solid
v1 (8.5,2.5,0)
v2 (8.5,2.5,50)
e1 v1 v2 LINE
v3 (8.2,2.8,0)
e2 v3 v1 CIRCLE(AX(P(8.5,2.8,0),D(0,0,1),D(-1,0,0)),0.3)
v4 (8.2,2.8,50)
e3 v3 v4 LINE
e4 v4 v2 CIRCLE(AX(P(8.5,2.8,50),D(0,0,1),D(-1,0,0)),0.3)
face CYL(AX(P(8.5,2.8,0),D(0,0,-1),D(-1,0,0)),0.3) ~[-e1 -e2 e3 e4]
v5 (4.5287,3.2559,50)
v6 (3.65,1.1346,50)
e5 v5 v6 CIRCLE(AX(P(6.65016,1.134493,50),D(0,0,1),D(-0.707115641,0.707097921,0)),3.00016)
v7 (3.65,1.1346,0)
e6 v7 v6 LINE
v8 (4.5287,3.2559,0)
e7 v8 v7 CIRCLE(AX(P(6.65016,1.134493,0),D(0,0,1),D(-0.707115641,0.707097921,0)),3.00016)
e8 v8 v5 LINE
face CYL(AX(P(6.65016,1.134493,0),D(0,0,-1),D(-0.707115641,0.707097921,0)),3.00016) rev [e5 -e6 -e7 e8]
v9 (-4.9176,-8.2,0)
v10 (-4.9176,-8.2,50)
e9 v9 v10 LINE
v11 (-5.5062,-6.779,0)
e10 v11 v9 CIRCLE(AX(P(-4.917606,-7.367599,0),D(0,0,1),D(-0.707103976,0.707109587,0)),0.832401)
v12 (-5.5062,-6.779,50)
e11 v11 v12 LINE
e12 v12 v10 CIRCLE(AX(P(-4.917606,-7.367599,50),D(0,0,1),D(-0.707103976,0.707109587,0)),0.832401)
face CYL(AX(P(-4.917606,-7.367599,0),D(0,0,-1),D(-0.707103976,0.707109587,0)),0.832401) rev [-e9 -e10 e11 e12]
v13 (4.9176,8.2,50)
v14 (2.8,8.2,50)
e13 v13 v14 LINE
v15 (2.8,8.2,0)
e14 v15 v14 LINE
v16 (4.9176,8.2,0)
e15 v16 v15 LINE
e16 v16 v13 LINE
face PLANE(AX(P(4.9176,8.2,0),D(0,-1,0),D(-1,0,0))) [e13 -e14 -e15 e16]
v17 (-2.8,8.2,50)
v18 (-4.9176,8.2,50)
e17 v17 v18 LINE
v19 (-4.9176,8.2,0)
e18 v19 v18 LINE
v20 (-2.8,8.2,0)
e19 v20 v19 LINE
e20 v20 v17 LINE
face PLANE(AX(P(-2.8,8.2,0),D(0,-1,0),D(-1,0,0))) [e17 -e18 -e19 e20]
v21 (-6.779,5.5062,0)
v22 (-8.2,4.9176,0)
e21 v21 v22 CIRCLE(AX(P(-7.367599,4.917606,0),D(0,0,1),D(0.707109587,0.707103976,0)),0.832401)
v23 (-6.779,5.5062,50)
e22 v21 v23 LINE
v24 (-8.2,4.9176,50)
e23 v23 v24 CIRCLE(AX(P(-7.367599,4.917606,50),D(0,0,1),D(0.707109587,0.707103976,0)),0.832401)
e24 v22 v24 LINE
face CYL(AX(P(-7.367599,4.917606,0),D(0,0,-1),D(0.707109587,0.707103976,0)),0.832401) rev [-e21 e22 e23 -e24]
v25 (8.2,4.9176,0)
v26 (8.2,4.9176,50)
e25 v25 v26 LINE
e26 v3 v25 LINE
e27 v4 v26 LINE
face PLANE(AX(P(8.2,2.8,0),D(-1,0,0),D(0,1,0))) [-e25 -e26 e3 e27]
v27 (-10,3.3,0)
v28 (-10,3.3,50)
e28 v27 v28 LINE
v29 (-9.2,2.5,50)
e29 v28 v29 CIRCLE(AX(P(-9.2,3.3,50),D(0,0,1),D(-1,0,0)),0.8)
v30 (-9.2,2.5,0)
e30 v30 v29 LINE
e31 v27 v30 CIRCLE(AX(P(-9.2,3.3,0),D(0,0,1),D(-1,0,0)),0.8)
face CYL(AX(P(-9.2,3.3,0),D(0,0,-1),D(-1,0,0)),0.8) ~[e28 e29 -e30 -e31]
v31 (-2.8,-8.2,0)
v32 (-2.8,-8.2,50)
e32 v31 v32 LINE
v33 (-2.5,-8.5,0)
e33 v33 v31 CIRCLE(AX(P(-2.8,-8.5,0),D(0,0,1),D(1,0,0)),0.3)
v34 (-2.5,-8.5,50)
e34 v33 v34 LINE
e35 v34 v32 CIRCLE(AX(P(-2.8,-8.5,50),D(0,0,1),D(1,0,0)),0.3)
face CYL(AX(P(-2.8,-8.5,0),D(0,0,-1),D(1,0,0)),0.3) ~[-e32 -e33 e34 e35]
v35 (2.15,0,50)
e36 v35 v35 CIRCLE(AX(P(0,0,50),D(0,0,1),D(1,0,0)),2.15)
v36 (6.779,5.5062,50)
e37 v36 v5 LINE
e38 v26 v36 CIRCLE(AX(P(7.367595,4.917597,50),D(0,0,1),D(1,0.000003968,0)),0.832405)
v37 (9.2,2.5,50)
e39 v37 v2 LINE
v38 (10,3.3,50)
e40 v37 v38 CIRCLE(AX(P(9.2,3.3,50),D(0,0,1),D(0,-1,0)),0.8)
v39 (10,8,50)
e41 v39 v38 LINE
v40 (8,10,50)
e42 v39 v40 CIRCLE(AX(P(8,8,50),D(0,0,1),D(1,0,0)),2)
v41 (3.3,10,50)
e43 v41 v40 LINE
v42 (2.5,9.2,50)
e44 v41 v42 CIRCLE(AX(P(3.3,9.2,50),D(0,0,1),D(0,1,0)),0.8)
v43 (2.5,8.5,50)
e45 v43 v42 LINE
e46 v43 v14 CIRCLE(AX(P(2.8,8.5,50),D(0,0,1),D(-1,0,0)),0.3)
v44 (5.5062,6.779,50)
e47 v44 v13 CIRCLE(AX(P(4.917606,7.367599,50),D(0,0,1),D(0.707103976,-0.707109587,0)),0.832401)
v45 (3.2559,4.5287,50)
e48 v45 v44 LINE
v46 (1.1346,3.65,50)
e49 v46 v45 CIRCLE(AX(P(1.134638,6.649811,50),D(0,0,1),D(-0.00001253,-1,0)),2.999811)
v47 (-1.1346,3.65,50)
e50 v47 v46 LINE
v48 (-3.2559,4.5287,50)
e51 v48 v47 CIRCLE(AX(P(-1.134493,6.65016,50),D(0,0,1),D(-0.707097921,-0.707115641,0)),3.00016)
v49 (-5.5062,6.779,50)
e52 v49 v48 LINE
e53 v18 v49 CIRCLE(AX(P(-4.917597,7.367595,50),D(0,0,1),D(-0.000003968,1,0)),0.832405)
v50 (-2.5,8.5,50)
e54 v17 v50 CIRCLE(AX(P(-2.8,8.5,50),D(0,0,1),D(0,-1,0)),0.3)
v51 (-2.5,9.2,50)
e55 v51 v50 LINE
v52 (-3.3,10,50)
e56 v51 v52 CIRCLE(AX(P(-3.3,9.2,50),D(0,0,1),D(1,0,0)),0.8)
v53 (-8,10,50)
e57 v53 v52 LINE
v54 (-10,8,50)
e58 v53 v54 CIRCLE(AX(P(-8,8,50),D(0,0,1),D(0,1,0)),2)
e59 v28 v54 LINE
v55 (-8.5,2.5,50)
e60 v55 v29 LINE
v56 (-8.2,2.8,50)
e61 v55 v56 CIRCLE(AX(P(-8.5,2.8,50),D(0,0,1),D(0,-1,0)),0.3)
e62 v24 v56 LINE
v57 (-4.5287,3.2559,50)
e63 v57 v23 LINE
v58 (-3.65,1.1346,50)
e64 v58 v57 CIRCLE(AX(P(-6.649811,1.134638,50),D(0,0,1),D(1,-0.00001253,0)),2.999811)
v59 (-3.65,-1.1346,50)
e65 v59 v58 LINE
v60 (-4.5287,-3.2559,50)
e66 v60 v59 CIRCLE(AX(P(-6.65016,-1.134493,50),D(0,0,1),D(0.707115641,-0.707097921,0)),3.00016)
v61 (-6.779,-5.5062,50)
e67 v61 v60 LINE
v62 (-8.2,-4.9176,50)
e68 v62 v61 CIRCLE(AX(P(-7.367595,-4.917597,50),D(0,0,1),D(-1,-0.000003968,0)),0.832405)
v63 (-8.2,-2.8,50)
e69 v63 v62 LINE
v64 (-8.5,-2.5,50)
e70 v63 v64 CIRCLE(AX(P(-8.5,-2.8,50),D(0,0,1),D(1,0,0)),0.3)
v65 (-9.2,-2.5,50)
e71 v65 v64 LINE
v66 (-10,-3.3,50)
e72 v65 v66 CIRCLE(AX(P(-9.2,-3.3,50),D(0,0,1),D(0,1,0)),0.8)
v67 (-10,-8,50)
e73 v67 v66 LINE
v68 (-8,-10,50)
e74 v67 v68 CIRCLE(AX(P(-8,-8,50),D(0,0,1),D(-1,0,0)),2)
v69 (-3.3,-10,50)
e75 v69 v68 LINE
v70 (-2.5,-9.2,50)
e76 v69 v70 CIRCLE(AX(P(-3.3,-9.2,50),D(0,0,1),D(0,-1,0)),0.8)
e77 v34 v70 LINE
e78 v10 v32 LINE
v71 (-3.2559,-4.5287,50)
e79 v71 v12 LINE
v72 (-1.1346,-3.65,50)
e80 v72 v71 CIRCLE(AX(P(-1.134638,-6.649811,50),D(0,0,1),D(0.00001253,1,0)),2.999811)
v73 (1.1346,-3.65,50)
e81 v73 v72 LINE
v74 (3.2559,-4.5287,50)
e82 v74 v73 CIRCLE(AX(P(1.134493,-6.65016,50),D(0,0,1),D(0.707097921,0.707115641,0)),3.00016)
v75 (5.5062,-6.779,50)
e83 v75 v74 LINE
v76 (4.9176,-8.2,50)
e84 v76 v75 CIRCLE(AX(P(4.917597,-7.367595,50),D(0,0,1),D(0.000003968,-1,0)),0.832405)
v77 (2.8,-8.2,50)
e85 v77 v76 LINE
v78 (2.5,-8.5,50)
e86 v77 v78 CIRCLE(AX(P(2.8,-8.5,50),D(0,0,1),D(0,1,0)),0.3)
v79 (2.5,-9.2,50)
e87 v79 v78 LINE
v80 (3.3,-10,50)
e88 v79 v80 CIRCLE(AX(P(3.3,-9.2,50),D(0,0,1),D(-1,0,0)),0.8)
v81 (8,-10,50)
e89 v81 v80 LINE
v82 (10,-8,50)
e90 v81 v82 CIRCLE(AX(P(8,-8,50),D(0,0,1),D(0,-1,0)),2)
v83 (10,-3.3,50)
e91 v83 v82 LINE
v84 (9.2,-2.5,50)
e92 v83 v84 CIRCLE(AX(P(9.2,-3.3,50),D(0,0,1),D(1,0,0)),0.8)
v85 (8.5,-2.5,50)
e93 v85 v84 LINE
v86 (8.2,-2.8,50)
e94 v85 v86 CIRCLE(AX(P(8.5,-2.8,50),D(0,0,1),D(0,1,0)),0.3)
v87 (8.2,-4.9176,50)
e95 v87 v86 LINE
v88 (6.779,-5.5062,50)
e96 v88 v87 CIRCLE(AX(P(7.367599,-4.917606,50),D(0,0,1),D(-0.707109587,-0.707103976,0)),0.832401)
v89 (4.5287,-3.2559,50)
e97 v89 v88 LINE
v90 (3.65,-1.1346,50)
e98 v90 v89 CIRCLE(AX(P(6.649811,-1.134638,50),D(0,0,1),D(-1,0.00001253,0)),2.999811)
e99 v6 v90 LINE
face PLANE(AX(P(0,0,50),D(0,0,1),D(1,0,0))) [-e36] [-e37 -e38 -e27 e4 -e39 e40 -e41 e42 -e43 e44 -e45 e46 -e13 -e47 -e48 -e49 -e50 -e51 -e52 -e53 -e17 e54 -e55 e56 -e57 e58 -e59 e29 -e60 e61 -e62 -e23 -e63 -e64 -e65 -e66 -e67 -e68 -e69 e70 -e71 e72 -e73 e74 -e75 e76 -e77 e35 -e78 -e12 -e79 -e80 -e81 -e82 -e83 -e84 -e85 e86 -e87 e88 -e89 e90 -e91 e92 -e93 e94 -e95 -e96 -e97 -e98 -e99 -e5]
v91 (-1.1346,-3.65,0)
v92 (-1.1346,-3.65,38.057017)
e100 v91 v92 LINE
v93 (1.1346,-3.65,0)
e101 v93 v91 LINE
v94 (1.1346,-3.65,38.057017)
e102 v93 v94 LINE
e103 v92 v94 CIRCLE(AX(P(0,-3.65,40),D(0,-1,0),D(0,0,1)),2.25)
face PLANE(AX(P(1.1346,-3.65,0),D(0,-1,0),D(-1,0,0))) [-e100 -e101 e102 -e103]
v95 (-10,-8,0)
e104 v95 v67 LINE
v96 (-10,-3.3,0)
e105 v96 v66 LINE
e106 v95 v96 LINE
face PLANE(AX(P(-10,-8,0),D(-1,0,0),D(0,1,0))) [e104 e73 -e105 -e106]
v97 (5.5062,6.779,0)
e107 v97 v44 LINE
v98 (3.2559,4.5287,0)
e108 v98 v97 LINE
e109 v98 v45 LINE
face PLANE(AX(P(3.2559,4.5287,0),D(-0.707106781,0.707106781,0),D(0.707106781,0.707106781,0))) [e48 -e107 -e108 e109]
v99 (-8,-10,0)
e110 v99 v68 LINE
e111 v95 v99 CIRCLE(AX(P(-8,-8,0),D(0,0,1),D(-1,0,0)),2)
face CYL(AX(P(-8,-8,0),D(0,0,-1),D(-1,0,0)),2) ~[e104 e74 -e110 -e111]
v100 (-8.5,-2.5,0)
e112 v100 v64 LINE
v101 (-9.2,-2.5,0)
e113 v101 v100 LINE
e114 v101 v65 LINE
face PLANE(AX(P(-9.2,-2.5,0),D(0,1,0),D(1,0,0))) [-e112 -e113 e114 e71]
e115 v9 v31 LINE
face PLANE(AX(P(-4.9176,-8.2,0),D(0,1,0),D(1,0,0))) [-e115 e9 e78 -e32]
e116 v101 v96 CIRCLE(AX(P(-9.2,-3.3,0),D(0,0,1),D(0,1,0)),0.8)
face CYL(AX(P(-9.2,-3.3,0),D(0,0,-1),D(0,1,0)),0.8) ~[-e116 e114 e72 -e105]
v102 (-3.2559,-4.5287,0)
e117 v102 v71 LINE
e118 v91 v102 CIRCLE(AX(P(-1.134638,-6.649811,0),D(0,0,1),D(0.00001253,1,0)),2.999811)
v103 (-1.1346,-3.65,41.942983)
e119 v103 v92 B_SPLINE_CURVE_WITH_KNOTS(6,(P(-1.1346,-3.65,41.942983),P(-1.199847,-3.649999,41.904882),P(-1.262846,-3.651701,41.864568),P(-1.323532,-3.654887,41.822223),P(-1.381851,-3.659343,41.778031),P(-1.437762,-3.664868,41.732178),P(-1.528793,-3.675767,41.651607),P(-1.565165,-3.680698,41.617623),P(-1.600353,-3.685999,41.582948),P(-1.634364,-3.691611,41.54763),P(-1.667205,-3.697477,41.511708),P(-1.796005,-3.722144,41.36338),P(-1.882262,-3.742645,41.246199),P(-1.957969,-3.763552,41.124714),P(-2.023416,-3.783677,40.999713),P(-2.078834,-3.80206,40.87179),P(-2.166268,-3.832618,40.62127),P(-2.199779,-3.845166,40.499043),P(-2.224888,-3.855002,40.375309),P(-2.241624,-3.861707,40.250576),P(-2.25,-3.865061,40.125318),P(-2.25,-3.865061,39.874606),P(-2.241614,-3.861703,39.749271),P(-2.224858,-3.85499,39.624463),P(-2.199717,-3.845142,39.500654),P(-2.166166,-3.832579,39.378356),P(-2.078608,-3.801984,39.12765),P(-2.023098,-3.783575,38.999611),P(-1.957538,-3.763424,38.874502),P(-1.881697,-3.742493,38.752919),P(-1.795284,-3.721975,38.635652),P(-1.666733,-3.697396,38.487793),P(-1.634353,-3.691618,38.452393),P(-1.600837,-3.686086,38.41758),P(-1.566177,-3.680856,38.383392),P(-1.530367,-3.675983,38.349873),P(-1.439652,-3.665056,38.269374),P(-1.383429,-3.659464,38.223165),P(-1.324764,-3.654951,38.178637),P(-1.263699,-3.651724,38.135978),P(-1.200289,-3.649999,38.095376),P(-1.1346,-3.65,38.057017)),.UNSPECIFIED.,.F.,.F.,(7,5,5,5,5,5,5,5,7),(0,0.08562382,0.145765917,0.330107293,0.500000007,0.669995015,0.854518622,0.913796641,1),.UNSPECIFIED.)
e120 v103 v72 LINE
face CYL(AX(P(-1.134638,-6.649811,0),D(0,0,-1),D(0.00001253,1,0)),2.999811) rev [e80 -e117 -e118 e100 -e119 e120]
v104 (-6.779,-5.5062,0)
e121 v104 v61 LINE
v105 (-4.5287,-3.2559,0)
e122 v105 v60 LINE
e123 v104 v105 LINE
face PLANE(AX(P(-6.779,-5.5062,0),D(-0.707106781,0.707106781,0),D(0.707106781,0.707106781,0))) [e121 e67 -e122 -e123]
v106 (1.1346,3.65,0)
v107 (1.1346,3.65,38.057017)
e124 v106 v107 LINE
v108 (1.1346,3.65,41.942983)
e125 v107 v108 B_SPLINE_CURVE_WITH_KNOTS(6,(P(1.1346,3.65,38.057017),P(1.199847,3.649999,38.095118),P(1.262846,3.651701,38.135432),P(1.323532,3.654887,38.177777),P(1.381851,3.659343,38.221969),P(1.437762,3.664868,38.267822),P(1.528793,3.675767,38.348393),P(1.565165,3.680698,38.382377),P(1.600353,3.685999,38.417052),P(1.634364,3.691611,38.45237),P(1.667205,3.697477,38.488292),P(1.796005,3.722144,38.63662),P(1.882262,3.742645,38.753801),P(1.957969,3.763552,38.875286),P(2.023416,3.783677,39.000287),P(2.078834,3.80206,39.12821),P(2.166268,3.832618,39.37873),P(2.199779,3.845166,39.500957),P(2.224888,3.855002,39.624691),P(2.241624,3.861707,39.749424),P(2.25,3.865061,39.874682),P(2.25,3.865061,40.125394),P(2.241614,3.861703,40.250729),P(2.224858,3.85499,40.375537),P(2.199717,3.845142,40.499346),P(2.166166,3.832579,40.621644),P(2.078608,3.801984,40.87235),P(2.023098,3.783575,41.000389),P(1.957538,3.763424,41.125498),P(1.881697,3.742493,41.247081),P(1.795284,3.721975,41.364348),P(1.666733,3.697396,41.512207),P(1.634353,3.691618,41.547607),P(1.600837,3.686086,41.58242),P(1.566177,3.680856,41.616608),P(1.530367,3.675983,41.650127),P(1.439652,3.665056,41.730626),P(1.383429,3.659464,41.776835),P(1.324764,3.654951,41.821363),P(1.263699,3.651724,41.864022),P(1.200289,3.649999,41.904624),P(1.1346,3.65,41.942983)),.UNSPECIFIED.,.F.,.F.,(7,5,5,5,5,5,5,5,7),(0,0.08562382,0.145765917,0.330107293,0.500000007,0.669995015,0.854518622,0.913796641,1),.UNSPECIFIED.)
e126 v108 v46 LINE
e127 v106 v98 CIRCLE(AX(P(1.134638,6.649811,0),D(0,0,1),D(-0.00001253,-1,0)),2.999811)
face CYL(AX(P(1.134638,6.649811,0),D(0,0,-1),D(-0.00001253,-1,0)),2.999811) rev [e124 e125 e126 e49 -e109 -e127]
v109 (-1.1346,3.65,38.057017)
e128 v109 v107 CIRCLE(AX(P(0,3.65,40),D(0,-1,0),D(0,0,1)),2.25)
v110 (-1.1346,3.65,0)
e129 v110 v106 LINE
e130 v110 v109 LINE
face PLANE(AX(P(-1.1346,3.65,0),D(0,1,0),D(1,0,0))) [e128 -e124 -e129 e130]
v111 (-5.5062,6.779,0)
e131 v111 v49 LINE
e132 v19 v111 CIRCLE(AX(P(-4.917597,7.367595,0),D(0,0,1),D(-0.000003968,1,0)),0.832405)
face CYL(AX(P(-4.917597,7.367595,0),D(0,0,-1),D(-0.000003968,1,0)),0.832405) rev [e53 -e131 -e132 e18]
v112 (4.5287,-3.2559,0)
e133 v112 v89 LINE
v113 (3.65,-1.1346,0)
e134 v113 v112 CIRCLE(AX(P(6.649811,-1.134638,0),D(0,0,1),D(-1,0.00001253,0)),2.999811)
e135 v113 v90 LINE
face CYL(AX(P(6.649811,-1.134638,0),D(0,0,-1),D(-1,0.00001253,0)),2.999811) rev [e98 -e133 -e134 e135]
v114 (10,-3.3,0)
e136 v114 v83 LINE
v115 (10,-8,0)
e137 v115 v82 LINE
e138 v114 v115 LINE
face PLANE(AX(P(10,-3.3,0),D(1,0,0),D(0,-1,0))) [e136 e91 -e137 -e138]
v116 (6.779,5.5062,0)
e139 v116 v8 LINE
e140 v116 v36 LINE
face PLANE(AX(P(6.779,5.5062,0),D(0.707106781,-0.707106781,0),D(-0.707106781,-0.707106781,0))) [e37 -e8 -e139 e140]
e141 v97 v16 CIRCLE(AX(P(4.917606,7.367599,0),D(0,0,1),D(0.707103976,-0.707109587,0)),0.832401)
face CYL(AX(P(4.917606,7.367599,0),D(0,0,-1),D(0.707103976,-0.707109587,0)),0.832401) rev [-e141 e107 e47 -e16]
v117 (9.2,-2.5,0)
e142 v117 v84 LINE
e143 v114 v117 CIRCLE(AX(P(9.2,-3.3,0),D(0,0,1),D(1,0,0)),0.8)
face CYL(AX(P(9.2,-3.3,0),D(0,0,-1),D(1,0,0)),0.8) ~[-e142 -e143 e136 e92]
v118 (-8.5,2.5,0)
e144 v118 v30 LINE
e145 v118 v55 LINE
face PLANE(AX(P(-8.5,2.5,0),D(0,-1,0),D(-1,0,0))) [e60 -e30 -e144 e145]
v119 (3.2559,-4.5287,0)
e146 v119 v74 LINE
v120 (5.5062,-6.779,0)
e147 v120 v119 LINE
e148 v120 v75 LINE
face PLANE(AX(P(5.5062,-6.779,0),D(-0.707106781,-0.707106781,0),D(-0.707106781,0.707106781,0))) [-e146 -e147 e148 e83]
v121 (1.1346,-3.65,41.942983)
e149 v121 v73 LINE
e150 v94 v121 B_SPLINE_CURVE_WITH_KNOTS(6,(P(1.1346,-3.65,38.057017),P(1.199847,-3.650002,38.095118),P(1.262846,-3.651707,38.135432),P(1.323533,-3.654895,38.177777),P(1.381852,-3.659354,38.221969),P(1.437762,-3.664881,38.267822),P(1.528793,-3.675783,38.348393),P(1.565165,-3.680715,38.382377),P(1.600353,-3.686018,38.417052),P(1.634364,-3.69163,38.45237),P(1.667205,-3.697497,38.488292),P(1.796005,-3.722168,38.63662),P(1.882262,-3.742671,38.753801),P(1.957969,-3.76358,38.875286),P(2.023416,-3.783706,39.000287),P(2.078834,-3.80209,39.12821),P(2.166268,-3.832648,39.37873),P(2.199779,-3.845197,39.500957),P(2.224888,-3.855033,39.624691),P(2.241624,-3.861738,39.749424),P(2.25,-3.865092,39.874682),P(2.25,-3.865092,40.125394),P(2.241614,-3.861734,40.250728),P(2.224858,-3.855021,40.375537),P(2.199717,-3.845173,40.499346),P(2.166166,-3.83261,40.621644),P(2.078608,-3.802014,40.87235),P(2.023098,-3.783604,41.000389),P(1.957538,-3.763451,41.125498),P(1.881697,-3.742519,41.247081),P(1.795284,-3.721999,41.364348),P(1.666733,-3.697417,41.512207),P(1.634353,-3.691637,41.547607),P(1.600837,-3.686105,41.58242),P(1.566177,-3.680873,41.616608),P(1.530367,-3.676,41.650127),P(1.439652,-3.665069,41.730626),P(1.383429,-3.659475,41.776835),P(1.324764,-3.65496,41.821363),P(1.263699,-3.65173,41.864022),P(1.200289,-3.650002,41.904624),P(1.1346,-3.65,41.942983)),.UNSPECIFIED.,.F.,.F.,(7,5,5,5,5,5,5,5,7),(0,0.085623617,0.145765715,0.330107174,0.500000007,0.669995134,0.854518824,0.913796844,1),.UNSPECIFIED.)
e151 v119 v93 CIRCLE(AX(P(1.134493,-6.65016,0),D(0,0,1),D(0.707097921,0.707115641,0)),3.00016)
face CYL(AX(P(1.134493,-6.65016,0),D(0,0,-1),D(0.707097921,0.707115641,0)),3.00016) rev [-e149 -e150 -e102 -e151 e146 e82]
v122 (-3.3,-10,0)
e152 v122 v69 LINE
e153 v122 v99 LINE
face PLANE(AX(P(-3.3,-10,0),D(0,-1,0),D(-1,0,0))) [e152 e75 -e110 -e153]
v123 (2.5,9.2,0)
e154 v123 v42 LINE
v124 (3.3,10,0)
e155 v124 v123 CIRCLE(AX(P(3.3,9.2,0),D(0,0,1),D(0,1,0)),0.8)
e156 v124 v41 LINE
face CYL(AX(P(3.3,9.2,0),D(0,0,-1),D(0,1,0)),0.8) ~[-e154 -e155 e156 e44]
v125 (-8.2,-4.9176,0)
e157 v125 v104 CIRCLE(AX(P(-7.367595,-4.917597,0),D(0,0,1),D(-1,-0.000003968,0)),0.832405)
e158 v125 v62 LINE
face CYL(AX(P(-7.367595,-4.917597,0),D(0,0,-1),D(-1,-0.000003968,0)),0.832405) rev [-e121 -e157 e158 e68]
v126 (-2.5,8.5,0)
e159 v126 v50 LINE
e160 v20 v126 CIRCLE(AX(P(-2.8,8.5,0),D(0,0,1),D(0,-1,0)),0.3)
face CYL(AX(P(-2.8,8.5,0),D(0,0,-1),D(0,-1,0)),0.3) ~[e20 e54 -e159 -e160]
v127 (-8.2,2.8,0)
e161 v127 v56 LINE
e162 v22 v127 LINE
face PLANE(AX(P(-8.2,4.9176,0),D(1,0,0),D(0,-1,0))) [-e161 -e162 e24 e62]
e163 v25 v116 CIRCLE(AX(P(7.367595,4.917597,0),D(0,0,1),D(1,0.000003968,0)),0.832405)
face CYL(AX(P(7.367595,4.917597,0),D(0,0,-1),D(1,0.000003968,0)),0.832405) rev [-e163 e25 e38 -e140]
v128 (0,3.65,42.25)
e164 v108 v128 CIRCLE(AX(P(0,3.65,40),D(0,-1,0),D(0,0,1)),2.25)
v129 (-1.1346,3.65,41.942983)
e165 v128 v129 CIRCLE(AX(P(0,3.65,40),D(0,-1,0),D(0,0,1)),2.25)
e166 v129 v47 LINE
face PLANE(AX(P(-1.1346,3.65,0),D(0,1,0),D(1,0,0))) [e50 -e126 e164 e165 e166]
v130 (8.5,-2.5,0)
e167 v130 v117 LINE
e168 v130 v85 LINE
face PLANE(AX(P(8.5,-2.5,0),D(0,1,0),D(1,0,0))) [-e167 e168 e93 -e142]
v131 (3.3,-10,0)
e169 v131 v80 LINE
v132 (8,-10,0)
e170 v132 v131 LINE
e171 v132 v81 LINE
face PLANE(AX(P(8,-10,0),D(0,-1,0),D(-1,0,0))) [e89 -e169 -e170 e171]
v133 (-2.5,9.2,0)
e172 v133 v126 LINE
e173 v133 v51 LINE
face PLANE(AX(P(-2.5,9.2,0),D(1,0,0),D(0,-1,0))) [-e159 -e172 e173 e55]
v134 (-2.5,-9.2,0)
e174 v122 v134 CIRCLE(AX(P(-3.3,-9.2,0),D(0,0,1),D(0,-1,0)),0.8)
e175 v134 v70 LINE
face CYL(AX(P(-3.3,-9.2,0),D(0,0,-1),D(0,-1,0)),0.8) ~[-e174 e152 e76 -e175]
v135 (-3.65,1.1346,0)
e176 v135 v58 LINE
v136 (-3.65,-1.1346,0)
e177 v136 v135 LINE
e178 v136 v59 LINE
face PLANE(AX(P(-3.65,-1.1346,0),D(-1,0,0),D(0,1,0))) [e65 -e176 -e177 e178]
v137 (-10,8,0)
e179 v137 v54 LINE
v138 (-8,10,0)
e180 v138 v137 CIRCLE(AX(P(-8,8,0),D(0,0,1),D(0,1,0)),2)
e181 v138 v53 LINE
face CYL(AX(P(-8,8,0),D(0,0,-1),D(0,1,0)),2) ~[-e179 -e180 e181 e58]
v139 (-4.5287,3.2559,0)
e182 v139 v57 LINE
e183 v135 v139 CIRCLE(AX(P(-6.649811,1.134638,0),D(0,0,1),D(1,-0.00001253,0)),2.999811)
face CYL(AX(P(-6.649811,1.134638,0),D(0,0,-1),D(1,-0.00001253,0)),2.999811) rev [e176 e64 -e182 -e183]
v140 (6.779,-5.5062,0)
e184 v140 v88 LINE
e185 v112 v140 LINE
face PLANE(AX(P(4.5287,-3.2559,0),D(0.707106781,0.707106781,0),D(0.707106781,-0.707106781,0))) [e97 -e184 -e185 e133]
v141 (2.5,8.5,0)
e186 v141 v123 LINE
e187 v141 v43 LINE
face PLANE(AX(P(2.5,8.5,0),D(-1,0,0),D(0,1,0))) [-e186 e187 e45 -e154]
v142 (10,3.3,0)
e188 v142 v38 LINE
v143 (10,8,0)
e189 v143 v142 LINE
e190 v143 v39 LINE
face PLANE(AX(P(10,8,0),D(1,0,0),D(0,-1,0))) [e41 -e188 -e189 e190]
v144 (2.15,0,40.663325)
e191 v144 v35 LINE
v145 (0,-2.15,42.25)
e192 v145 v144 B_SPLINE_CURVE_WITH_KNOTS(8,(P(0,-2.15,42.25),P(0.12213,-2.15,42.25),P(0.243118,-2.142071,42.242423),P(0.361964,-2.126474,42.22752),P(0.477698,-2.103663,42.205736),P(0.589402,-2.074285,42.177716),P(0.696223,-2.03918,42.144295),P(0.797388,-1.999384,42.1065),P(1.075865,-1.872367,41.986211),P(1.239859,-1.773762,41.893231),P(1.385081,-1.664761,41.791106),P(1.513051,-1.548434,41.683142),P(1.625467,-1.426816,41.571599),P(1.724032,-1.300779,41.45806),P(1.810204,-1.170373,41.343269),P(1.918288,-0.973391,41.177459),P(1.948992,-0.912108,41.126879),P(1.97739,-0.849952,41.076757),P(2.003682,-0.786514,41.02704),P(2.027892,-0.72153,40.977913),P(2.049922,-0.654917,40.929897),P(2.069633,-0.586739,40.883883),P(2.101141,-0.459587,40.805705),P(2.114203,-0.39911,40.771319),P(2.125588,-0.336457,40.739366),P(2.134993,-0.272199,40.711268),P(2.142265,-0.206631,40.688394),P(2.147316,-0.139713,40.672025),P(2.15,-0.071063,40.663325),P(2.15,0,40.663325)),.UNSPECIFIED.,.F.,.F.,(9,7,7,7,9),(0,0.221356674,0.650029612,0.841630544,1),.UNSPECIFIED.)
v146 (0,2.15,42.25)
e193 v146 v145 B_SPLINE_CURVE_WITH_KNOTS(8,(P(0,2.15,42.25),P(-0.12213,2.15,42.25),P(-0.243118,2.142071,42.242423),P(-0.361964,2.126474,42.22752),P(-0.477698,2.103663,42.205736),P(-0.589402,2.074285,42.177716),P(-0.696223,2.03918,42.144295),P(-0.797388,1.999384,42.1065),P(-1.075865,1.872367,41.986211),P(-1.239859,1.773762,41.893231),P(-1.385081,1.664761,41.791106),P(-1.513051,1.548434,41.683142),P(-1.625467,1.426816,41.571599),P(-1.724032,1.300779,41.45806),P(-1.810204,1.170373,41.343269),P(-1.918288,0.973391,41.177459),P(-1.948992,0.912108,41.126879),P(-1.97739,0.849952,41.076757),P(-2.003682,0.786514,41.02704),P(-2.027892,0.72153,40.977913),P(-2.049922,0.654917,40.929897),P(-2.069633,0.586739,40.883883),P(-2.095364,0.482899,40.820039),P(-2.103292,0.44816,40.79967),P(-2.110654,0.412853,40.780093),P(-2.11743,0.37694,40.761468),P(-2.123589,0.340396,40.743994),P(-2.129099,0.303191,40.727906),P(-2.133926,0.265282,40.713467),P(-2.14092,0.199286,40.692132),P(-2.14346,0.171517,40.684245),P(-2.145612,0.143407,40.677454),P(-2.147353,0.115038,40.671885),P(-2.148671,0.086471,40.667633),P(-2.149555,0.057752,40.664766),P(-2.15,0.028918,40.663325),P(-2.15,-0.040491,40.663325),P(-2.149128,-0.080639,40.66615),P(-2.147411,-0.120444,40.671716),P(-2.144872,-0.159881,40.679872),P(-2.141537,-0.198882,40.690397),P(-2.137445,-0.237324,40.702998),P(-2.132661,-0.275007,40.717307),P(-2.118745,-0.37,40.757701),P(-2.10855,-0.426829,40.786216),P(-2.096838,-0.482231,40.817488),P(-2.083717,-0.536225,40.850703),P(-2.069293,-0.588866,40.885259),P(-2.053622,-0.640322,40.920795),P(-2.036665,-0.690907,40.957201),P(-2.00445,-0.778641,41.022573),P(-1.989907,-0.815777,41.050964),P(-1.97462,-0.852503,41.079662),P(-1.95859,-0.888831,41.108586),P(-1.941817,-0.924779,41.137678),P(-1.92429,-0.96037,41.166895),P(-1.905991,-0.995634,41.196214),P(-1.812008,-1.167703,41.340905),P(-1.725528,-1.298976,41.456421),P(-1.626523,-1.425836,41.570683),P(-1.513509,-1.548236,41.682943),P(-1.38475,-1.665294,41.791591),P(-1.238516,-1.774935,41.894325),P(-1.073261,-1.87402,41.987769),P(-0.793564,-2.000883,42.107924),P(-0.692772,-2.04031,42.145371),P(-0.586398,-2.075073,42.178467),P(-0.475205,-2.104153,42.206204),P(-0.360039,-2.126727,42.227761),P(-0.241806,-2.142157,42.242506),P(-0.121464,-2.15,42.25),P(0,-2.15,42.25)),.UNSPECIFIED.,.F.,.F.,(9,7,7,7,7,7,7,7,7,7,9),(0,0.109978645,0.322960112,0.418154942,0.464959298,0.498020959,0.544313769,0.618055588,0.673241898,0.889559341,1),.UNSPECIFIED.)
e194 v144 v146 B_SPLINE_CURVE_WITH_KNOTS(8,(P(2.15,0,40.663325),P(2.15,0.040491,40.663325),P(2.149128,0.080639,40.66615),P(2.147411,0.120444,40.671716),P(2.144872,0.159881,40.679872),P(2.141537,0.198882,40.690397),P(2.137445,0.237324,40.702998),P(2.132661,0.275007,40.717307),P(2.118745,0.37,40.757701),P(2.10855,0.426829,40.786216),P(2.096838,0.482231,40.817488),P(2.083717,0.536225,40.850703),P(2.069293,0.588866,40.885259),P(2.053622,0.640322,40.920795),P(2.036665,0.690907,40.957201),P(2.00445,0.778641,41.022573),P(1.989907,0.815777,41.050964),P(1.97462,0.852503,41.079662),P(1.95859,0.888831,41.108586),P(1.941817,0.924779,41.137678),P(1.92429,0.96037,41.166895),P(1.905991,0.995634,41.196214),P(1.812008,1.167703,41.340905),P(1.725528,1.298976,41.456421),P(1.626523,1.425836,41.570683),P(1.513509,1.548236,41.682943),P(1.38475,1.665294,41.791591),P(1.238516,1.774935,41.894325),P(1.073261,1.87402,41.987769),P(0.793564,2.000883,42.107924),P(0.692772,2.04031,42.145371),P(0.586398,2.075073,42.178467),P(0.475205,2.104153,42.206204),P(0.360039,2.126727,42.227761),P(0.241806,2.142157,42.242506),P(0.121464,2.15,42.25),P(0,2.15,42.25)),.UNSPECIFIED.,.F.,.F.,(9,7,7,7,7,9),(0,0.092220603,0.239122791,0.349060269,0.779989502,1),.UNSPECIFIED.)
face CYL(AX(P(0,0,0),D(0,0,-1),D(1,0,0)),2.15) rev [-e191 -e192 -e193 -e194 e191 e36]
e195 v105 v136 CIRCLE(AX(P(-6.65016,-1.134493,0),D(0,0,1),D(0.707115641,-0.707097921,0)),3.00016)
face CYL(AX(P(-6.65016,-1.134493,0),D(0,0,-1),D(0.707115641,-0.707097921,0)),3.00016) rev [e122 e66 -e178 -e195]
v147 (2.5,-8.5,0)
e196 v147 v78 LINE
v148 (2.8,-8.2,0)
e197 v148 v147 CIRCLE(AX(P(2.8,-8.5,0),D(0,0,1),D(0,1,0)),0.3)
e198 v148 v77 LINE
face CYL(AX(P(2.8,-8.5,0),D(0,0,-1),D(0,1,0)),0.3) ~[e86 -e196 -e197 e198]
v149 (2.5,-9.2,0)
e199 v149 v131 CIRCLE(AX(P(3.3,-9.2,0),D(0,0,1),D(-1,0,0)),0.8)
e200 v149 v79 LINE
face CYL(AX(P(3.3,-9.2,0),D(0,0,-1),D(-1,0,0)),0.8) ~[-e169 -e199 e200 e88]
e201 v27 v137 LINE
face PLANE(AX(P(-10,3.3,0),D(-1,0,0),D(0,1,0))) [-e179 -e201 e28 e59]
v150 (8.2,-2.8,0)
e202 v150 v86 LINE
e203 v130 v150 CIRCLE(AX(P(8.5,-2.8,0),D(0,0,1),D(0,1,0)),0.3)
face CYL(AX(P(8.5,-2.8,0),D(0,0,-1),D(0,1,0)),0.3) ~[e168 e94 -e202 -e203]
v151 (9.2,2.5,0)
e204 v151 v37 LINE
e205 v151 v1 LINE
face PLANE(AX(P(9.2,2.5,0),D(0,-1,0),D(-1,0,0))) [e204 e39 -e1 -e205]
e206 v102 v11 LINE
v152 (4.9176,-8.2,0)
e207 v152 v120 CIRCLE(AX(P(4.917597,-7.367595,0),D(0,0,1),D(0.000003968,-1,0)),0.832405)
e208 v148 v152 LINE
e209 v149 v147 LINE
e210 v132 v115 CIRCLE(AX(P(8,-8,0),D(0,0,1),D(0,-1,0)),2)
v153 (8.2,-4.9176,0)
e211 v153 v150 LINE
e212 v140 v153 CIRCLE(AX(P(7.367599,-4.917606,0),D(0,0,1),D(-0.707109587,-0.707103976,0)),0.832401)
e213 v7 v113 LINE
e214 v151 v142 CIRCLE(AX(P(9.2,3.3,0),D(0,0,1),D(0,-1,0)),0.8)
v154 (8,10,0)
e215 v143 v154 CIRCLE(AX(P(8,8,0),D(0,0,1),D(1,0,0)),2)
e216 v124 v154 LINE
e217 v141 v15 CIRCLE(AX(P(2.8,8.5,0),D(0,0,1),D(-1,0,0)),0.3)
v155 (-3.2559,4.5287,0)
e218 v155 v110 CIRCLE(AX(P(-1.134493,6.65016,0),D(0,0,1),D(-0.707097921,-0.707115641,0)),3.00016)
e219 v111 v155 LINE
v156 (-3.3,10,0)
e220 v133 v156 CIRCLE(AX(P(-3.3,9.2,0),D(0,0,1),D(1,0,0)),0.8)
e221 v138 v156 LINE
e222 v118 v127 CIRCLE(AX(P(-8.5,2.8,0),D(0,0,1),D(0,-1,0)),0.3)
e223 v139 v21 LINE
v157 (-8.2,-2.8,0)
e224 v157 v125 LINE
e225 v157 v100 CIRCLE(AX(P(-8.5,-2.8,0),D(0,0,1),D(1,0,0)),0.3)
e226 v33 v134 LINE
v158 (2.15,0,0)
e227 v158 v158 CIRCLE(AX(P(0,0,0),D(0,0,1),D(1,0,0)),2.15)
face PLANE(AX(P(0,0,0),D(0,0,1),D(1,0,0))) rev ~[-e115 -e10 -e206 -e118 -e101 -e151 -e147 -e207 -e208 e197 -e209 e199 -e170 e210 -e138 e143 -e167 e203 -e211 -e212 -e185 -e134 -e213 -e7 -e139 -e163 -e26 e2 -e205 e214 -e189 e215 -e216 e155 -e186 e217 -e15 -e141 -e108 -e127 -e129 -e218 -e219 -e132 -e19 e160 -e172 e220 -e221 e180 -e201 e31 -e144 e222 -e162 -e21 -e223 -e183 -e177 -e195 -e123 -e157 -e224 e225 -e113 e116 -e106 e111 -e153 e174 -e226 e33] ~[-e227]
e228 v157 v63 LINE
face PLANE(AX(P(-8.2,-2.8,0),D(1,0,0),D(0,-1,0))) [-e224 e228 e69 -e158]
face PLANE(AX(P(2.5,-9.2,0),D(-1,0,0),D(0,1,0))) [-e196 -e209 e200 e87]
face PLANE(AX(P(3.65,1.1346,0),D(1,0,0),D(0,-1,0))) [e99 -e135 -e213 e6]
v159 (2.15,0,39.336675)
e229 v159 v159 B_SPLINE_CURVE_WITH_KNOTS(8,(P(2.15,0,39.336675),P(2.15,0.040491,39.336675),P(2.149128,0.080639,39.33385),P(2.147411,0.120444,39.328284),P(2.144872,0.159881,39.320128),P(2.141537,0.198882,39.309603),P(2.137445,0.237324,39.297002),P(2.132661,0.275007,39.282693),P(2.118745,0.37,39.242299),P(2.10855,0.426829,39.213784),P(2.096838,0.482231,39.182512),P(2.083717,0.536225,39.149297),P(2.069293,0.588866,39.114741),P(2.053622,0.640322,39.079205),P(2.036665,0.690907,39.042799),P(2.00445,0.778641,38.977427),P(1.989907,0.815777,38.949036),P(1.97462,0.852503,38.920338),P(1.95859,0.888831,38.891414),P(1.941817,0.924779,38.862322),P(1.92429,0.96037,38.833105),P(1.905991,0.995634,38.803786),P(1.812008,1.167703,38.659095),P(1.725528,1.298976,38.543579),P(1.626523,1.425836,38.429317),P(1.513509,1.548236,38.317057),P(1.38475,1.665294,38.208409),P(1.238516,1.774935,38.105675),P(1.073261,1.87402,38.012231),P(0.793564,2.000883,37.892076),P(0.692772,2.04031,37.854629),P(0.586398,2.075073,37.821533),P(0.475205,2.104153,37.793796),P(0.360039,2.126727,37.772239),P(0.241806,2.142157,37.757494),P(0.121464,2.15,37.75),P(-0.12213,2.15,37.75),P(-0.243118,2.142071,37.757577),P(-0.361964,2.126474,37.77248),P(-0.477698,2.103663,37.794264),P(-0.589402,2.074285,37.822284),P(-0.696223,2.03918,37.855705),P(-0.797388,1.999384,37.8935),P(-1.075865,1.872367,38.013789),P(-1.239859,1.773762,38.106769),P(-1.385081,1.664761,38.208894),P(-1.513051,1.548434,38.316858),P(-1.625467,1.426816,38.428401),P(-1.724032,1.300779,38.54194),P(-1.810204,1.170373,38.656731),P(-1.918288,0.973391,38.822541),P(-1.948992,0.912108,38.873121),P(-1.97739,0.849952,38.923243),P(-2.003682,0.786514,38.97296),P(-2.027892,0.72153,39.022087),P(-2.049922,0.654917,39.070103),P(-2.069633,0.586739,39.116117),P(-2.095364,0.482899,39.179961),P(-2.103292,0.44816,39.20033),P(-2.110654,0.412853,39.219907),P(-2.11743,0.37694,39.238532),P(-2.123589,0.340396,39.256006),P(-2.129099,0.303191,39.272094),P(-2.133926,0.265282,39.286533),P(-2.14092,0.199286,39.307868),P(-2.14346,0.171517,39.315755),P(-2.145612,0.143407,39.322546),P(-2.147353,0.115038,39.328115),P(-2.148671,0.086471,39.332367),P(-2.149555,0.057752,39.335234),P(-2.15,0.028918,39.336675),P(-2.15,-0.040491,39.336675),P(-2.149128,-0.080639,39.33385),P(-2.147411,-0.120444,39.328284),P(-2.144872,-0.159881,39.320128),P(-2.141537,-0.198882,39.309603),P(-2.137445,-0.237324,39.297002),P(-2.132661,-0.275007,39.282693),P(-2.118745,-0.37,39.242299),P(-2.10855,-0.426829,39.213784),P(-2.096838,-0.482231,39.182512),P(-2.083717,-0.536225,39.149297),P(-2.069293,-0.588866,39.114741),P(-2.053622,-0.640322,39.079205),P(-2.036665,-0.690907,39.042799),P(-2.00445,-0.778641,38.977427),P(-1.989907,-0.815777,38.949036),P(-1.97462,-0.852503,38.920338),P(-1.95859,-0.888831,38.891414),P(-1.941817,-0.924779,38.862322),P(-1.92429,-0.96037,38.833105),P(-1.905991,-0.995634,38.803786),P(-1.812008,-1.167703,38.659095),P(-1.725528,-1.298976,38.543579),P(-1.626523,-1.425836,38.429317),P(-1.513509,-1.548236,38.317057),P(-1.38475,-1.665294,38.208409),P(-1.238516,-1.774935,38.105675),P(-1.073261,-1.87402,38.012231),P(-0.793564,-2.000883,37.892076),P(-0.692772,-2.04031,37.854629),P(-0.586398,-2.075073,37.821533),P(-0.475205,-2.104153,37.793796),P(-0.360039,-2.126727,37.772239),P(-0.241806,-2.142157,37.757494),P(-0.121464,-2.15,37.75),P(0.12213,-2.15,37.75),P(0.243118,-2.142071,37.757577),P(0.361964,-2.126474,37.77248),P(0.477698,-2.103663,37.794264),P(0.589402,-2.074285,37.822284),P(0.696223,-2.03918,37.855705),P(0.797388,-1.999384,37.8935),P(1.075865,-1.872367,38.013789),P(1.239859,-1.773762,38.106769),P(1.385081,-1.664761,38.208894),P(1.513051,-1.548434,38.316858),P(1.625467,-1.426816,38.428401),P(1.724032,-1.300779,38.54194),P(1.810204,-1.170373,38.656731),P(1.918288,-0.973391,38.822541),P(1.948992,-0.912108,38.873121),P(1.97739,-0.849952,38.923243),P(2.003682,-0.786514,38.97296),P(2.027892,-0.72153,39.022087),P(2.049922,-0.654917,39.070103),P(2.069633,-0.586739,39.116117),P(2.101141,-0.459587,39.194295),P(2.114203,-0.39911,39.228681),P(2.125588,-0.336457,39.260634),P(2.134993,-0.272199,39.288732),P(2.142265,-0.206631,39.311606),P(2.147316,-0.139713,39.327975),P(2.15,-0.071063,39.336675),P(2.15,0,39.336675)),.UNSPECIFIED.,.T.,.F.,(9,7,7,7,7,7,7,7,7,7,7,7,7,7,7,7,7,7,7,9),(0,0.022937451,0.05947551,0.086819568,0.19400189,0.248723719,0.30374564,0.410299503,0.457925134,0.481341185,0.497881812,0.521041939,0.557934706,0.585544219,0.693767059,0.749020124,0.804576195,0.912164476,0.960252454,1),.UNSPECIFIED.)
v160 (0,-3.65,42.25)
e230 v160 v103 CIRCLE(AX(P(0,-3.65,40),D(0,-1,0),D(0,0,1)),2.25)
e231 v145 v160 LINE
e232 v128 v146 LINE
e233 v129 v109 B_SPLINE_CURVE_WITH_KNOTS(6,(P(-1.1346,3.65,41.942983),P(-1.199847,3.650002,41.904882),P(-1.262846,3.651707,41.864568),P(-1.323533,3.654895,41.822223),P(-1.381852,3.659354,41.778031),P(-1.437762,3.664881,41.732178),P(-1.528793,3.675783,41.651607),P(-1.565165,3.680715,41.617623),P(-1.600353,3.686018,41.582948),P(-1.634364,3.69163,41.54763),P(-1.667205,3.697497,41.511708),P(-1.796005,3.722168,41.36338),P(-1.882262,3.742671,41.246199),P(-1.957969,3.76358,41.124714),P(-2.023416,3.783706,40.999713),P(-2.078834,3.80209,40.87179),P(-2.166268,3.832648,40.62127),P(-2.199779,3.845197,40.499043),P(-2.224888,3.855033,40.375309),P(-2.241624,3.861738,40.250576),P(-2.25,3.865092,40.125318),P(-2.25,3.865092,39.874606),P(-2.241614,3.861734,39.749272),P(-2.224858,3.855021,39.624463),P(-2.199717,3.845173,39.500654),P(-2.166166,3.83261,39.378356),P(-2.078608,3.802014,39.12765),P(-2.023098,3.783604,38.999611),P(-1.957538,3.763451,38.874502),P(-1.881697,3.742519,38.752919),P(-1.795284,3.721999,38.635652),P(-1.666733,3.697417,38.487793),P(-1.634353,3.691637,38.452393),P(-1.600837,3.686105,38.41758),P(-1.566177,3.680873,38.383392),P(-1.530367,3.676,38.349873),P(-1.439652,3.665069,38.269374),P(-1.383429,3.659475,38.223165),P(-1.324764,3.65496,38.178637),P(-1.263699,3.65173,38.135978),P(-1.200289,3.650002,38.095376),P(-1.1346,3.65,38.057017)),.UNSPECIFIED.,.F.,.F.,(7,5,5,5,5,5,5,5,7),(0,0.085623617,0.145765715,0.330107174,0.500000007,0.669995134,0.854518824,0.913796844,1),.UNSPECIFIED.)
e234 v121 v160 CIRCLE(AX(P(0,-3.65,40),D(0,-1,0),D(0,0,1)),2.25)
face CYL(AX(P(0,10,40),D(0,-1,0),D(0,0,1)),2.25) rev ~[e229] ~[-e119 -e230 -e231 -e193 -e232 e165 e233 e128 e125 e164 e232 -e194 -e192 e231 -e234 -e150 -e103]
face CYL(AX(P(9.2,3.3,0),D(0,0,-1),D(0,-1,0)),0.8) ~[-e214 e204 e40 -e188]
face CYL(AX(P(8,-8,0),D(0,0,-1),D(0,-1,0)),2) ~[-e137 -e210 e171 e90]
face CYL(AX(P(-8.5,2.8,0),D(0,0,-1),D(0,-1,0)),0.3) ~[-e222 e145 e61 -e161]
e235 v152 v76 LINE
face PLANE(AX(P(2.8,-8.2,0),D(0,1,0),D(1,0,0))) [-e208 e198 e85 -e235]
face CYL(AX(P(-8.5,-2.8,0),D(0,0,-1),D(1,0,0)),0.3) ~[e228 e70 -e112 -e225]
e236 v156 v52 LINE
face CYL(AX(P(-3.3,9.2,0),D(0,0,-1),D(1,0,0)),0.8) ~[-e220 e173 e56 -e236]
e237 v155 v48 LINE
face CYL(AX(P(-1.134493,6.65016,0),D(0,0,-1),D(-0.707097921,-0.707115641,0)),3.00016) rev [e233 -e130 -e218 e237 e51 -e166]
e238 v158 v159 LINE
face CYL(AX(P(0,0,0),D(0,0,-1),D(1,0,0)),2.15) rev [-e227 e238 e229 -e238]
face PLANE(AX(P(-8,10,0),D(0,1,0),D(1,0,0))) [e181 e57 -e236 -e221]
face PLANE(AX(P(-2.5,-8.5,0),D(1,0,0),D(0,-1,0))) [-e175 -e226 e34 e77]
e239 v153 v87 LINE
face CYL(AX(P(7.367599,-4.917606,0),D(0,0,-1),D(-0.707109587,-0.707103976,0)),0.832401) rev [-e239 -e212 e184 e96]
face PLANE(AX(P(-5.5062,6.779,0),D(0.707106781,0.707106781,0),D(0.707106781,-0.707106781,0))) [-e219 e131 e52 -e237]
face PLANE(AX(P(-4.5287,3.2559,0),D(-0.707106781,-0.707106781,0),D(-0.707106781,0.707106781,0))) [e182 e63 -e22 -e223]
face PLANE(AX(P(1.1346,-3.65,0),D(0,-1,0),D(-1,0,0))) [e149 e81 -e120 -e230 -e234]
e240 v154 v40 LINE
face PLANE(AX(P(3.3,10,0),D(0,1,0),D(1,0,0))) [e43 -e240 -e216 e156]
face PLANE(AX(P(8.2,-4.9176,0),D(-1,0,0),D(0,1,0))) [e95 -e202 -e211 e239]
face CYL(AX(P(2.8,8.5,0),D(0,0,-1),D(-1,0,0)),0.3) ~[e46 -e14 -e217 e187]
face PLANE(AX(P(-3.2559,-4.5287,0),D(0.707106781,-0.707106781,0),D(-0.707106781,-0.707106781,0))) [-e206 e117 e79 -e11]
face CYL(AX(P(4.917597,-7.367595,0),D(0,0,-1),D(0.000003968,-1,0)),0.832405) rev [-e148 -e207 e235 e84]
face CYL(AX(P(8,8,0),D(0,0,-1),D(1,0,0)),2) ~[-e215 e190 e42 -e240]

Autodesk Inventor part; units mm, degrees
ref_plane "YZ Plane" through (0, 0, 0) normal (1, 0, 0) x (0, 1, 0)
ref_plane "Startebene" through (0, 0, 0) normal (0, 0, 1) x (1, 0, 0)
ref_plane "Endebene" through (0, 0, 50) normal (0, 0, 1) x (1, 0, 0)
sketch "Skizze3" plane through (0, 0, 0) normal (0, 0, 1) x (1, 0, 0)
  arc A0 (-4.5287, -3.2559) -> (-3.65, -1.1346) centre (-6.65, -1.1346) ccw
  line L0 (-3.65, -1.1346) -> (-3.65, 1.1346)
  circle A1 centre (0, 0) radius 2.15
  line L1 (1.1346, -3.65) -> (-1.1346, -3.65)
  arc A2 (-1.1346, -3.65) -> (-3.2559, -4.5287) centre (-1.1346, -6.65) ccw
  line L2 (-6.779, -5.5062) -> (-4.5287, -3.2559)
  line L3 (-3.2559, -4.5287) -> (-5.5062, -6.779)
  arc A3 (-2.5, -8.5) -> (-2.8, -8.2) centre (-2.8, -8.5) ccw
  line L4 (-2.5, -8.5) -> (-2.5, -9.2)
  line L5 (-4.9176, -8.2) -> (-2.8, -8.2)
  arc A4 (-5.5062, -6.779) -> (-4.9176, -8.2) centre (-4.9176, -7.3676) ccw
  arc A5 (-3.3, -10) -> (-2.5, -9.2) centre (-3.3, -9.2) ccw
  line L6 (-3.3, -10) -> (-8, -10)
  line L7 (10, -3.3) -> (10, -8)
  line L8 (5.5062, -6.779) -> (3.2559, -4.5287)
  arc A6 (6.779, -5.5062) -> (8.2, -4.9176) centre (7.3676, -4.9176) ccw
  arc A7 (3.2559, -4.5287) -> (1.1346, -3.65) centre (1.1346, -6.65) ccw
  line L9 (4.5287, -3.2559) -> (6.779, -5.5062)
  arc A8 (3.65, -1.1346) -> (4.5287, -3.2559) centre (6.65, -1.1346) ccw
  arc A9 (8.5, -2.5) -> (8.2, -2.8) centre (8.5, -2.8) ccw
  line L10 (3.65, 1.1346) -> (3.65, -1.1346)
  line L11 (8.5, -2.5) -> (9.2, -2.5)
  arc A10 (10, -3.3) -> (9.2, -2.5) centre (9.2, -3.3) ccw
  line L12 (8.2, -4.9176) -> (8.2, -2.8)
  line L13 (2.5, 8.5) -> (2.5, 9.2)
  arc A11 (2.5, 8.5) -> (2.8, 8.2) centre (2.8, 8.5) ccw
  arc A12 (1.1346, 3.65) -> (3.2559, 4.5287) centre (1.1346, 6.65) ccw
  line L14 (-1.1346, 3.65) -> (1.1346, 3.65)
  arc A13 (3.3, 10) -> (2.5, 9.2) centre (3.3, 9.2) ccw
  line L15 (4.9176, 8.2) -> (2.8, 8.2)
  arc A14 (4.5287, 3.2559) -> (3.65, 1.1346) centre (6.65, 1.1346) ccw
  line L16 (3.2559, 4.5287) -> (5.5062, 6.779)
  arc A15 (5.5062, 6.779) -> (4.9176, 8.2) centre (4.9176, 7.3676) ccw
  line L17 (6.779, 5.5062) -> (4.5287, 3.2559)
  line L18 (3.3, 10) -> (8, 10)
  arc A16 (10, 8) -> (8, 10) centre (8, 8) ccw
  line L19 (8.2, 2.8) -> (8.2, 4.9176)
  line L20 (10, 8) -> (10, 3.3)
  arc A17 (8.2, 4.9176) -> (6.779, 5.5062) centre (7.3676, 4.9176) ccw
  line L21 (-2.8, 8.2) -> (-4.9176, 8.2)
  line L22 (-2.5, 9.2) -> (-2.5, 8.5)
  arc A18 (-2.5, 9.2) -> (-3.3, 10) centre (-3.3, 9.2) ccw
  arc A19 (-2.8, 8.2) -> (-2.5, 8.5) centre (-2.8, 8.5) ccw
  arc A20 (-3.65, 1.1346) -> (-4.5287, 3.2559) centre (-6.65, 1.1346) ccw
  arc A21 (-3.2559, 4.5287) -> (-1.1346, 3.65) centre (-1.1346, 6.65) ccw
  arc A22 (4.9176, -8.2) -> (5.5062, -6.779) centre (4.9176, -7.3676) ccw
  arc A23 (8, -10) -> (10, -8) centre (8, -8) ccw
  line L23 (2.8, -8.2) -> (4.9176, -8.2)
  line L24 (8, -10) -> (3.3, -10)
  arc A24 (2.8, -8.2) -> (2.5, -8.5) centre (2.8, -8.5) ccw
  arc A25 (2.5, -9.2) -> (3.3, -10) centre (3.3, -9.2) ccw
  line L25 (2.5, -9.2) -> (2.5, -8.5)
  arc A26 (8.2, 2.8) -> (8.5, 2.5) centre (8.5, 2.8) ccw
  line L26 (9.2, 2.5) -> (8.5, 2.5)
  arc A27 (9.2, 2.5) -> (10, 3.3) centre (9.2, 3.3) ccw
  arc A28 (-4.9176, 8.2) -> (-5.5062, 6.779) centre (-4.9176, 7.3676) ccw
  line L27 (-8, 10) -> (-3.3, 10)
  line L28 (-5.5062, 6.779) -> (-3.2559, 4.5287)
  arc A29 (-8, 10) -> (-10, 8) centre (-8, 8) ccw
  arc A30 (-6.779, 5.5062) -> (-8.2, 4.9176) centre (-7.3676, 4.9176) ccw
  line L29 (-10, 3.3) -> (-10, 8)
  line L30 (-8.2, 4.9176) -> (-8.2, 2.8)
  arc A31 (-8.5, 2.5) -> (-8.2, 2.8) centre (-8.5, 2.8) ccw
  line L31 (-8.5, 2.5) -> (-9.2, 2.5)
  arc A32 (-10, 3.3) -> (-9.2, 2.5) centre (-9.2, 3.3) ccw
  line L32 (-4.5287, 3.2559) -> (-6.779, 5.5062)
  line L33 (-10, -8) -> (-10, -3.3)
  arc A33 (-8.2, -4.9176) -> (-6.779, -5.5062) centre (-7.3676, -4.9176) ccw
  arc A34 (-10, -8) -> (-8, -10) centre (-8, -8) ccw
  line L34 (-10, -8) -> (-10, -3.3)
  arc A35 (-8.2, -2.8) -> (-8.5, -2.5) centre (-8.5, -2.8) ccw
  line L35 (-9.2, -2.5) -> (-8.5, -2.5)
  arc A36 (-9.2, -2.5) -> (-10, -3.3) centre (-9.2, -3.3) ccw
  line L36 (-8.2, -2.8) -> (-8.2, -4.9176)
  dimension "d4" = 4.3
  dimension "d5" = 6.35
  dimension "d6" = 10
  dimension "d7" = 2.5
  dimension "d8" = 5.8
  dimension "d9" = 10.5
  dimension "d10" = 3
  dimension "d11" = 7.5
  dimension "d12" = 12.5
  dimension "d13" = 13.65
  dimension "d14" = 5.7
  dimension "d15" = 10.7
  dimension "d16" = 1.15
  dimension "d17" = 6.15
  dimension "d18" = 1.8
  dimension "d19" = 0.8
  dimension "d20" = 0.3
  dimension "d21" = 2
  dimension "d22" = 0.8324
  dimension "d23" = 45
  dimension "d24" = 90
  dimension "d25" = 90
  dimension "d26" = 1.8
  dimension "d27" = 18.2
  dimension "d28" = 20
  dimension "d29" = 5
  dimension "d30" = 7.5
  dimension "d31" = 1.8
  dimension "d32" = 0.9
  dimension "d33" = 0.9
  dimension "d34" = 20
extrude "Körper" add sketch "Skizze3" along normal up to surface (50 mm away) from surface at 0
sketch "Skizze11" plane through (0, 0, 0) normal (0, 0, 1) x (1, 0, 0)
  line L0 (0, 0) -> (10, 0)
ref_plane "Arbeitsebene6" through (0, 0, 0) normal (0, -1, 0) x (1, 0, 0)
sketch "Skizze12" plane through (0, 0, 0) normal (0, -1, 0) x (1, 0, 0)
  line L0 (-14, 0) -> (14, 0)
  line L1 (-14, 50) -> (14, 50)
  dimension "d43" = 50
sketch "Skizze8" plane through (3.3, 10, 50) normal (0, 1, 0) x (1, 0, 0)
  line L0 (6.7, 50) -> (6.7, 0) projected
  line L1 (-4.4346, 0) -> (-2.1654, 0) projected
  point P0 (-3.3, 50)
  point P1 (-3.3, 10)
  dimension "d46" = 10
  dimension "d47" = 10
hole "Bohrung1" at (0, 10, 40) direction (0, -1, 0) diameter 4.5 end through all
equation "\"d47\" = d46"
equation "\"G_OFFSET_START\" = 0"
equation "\"G_OFFSET_END\" = 0"
equation "\"G_L\" = d43"
properties part number "BT001_trajan20_22"
